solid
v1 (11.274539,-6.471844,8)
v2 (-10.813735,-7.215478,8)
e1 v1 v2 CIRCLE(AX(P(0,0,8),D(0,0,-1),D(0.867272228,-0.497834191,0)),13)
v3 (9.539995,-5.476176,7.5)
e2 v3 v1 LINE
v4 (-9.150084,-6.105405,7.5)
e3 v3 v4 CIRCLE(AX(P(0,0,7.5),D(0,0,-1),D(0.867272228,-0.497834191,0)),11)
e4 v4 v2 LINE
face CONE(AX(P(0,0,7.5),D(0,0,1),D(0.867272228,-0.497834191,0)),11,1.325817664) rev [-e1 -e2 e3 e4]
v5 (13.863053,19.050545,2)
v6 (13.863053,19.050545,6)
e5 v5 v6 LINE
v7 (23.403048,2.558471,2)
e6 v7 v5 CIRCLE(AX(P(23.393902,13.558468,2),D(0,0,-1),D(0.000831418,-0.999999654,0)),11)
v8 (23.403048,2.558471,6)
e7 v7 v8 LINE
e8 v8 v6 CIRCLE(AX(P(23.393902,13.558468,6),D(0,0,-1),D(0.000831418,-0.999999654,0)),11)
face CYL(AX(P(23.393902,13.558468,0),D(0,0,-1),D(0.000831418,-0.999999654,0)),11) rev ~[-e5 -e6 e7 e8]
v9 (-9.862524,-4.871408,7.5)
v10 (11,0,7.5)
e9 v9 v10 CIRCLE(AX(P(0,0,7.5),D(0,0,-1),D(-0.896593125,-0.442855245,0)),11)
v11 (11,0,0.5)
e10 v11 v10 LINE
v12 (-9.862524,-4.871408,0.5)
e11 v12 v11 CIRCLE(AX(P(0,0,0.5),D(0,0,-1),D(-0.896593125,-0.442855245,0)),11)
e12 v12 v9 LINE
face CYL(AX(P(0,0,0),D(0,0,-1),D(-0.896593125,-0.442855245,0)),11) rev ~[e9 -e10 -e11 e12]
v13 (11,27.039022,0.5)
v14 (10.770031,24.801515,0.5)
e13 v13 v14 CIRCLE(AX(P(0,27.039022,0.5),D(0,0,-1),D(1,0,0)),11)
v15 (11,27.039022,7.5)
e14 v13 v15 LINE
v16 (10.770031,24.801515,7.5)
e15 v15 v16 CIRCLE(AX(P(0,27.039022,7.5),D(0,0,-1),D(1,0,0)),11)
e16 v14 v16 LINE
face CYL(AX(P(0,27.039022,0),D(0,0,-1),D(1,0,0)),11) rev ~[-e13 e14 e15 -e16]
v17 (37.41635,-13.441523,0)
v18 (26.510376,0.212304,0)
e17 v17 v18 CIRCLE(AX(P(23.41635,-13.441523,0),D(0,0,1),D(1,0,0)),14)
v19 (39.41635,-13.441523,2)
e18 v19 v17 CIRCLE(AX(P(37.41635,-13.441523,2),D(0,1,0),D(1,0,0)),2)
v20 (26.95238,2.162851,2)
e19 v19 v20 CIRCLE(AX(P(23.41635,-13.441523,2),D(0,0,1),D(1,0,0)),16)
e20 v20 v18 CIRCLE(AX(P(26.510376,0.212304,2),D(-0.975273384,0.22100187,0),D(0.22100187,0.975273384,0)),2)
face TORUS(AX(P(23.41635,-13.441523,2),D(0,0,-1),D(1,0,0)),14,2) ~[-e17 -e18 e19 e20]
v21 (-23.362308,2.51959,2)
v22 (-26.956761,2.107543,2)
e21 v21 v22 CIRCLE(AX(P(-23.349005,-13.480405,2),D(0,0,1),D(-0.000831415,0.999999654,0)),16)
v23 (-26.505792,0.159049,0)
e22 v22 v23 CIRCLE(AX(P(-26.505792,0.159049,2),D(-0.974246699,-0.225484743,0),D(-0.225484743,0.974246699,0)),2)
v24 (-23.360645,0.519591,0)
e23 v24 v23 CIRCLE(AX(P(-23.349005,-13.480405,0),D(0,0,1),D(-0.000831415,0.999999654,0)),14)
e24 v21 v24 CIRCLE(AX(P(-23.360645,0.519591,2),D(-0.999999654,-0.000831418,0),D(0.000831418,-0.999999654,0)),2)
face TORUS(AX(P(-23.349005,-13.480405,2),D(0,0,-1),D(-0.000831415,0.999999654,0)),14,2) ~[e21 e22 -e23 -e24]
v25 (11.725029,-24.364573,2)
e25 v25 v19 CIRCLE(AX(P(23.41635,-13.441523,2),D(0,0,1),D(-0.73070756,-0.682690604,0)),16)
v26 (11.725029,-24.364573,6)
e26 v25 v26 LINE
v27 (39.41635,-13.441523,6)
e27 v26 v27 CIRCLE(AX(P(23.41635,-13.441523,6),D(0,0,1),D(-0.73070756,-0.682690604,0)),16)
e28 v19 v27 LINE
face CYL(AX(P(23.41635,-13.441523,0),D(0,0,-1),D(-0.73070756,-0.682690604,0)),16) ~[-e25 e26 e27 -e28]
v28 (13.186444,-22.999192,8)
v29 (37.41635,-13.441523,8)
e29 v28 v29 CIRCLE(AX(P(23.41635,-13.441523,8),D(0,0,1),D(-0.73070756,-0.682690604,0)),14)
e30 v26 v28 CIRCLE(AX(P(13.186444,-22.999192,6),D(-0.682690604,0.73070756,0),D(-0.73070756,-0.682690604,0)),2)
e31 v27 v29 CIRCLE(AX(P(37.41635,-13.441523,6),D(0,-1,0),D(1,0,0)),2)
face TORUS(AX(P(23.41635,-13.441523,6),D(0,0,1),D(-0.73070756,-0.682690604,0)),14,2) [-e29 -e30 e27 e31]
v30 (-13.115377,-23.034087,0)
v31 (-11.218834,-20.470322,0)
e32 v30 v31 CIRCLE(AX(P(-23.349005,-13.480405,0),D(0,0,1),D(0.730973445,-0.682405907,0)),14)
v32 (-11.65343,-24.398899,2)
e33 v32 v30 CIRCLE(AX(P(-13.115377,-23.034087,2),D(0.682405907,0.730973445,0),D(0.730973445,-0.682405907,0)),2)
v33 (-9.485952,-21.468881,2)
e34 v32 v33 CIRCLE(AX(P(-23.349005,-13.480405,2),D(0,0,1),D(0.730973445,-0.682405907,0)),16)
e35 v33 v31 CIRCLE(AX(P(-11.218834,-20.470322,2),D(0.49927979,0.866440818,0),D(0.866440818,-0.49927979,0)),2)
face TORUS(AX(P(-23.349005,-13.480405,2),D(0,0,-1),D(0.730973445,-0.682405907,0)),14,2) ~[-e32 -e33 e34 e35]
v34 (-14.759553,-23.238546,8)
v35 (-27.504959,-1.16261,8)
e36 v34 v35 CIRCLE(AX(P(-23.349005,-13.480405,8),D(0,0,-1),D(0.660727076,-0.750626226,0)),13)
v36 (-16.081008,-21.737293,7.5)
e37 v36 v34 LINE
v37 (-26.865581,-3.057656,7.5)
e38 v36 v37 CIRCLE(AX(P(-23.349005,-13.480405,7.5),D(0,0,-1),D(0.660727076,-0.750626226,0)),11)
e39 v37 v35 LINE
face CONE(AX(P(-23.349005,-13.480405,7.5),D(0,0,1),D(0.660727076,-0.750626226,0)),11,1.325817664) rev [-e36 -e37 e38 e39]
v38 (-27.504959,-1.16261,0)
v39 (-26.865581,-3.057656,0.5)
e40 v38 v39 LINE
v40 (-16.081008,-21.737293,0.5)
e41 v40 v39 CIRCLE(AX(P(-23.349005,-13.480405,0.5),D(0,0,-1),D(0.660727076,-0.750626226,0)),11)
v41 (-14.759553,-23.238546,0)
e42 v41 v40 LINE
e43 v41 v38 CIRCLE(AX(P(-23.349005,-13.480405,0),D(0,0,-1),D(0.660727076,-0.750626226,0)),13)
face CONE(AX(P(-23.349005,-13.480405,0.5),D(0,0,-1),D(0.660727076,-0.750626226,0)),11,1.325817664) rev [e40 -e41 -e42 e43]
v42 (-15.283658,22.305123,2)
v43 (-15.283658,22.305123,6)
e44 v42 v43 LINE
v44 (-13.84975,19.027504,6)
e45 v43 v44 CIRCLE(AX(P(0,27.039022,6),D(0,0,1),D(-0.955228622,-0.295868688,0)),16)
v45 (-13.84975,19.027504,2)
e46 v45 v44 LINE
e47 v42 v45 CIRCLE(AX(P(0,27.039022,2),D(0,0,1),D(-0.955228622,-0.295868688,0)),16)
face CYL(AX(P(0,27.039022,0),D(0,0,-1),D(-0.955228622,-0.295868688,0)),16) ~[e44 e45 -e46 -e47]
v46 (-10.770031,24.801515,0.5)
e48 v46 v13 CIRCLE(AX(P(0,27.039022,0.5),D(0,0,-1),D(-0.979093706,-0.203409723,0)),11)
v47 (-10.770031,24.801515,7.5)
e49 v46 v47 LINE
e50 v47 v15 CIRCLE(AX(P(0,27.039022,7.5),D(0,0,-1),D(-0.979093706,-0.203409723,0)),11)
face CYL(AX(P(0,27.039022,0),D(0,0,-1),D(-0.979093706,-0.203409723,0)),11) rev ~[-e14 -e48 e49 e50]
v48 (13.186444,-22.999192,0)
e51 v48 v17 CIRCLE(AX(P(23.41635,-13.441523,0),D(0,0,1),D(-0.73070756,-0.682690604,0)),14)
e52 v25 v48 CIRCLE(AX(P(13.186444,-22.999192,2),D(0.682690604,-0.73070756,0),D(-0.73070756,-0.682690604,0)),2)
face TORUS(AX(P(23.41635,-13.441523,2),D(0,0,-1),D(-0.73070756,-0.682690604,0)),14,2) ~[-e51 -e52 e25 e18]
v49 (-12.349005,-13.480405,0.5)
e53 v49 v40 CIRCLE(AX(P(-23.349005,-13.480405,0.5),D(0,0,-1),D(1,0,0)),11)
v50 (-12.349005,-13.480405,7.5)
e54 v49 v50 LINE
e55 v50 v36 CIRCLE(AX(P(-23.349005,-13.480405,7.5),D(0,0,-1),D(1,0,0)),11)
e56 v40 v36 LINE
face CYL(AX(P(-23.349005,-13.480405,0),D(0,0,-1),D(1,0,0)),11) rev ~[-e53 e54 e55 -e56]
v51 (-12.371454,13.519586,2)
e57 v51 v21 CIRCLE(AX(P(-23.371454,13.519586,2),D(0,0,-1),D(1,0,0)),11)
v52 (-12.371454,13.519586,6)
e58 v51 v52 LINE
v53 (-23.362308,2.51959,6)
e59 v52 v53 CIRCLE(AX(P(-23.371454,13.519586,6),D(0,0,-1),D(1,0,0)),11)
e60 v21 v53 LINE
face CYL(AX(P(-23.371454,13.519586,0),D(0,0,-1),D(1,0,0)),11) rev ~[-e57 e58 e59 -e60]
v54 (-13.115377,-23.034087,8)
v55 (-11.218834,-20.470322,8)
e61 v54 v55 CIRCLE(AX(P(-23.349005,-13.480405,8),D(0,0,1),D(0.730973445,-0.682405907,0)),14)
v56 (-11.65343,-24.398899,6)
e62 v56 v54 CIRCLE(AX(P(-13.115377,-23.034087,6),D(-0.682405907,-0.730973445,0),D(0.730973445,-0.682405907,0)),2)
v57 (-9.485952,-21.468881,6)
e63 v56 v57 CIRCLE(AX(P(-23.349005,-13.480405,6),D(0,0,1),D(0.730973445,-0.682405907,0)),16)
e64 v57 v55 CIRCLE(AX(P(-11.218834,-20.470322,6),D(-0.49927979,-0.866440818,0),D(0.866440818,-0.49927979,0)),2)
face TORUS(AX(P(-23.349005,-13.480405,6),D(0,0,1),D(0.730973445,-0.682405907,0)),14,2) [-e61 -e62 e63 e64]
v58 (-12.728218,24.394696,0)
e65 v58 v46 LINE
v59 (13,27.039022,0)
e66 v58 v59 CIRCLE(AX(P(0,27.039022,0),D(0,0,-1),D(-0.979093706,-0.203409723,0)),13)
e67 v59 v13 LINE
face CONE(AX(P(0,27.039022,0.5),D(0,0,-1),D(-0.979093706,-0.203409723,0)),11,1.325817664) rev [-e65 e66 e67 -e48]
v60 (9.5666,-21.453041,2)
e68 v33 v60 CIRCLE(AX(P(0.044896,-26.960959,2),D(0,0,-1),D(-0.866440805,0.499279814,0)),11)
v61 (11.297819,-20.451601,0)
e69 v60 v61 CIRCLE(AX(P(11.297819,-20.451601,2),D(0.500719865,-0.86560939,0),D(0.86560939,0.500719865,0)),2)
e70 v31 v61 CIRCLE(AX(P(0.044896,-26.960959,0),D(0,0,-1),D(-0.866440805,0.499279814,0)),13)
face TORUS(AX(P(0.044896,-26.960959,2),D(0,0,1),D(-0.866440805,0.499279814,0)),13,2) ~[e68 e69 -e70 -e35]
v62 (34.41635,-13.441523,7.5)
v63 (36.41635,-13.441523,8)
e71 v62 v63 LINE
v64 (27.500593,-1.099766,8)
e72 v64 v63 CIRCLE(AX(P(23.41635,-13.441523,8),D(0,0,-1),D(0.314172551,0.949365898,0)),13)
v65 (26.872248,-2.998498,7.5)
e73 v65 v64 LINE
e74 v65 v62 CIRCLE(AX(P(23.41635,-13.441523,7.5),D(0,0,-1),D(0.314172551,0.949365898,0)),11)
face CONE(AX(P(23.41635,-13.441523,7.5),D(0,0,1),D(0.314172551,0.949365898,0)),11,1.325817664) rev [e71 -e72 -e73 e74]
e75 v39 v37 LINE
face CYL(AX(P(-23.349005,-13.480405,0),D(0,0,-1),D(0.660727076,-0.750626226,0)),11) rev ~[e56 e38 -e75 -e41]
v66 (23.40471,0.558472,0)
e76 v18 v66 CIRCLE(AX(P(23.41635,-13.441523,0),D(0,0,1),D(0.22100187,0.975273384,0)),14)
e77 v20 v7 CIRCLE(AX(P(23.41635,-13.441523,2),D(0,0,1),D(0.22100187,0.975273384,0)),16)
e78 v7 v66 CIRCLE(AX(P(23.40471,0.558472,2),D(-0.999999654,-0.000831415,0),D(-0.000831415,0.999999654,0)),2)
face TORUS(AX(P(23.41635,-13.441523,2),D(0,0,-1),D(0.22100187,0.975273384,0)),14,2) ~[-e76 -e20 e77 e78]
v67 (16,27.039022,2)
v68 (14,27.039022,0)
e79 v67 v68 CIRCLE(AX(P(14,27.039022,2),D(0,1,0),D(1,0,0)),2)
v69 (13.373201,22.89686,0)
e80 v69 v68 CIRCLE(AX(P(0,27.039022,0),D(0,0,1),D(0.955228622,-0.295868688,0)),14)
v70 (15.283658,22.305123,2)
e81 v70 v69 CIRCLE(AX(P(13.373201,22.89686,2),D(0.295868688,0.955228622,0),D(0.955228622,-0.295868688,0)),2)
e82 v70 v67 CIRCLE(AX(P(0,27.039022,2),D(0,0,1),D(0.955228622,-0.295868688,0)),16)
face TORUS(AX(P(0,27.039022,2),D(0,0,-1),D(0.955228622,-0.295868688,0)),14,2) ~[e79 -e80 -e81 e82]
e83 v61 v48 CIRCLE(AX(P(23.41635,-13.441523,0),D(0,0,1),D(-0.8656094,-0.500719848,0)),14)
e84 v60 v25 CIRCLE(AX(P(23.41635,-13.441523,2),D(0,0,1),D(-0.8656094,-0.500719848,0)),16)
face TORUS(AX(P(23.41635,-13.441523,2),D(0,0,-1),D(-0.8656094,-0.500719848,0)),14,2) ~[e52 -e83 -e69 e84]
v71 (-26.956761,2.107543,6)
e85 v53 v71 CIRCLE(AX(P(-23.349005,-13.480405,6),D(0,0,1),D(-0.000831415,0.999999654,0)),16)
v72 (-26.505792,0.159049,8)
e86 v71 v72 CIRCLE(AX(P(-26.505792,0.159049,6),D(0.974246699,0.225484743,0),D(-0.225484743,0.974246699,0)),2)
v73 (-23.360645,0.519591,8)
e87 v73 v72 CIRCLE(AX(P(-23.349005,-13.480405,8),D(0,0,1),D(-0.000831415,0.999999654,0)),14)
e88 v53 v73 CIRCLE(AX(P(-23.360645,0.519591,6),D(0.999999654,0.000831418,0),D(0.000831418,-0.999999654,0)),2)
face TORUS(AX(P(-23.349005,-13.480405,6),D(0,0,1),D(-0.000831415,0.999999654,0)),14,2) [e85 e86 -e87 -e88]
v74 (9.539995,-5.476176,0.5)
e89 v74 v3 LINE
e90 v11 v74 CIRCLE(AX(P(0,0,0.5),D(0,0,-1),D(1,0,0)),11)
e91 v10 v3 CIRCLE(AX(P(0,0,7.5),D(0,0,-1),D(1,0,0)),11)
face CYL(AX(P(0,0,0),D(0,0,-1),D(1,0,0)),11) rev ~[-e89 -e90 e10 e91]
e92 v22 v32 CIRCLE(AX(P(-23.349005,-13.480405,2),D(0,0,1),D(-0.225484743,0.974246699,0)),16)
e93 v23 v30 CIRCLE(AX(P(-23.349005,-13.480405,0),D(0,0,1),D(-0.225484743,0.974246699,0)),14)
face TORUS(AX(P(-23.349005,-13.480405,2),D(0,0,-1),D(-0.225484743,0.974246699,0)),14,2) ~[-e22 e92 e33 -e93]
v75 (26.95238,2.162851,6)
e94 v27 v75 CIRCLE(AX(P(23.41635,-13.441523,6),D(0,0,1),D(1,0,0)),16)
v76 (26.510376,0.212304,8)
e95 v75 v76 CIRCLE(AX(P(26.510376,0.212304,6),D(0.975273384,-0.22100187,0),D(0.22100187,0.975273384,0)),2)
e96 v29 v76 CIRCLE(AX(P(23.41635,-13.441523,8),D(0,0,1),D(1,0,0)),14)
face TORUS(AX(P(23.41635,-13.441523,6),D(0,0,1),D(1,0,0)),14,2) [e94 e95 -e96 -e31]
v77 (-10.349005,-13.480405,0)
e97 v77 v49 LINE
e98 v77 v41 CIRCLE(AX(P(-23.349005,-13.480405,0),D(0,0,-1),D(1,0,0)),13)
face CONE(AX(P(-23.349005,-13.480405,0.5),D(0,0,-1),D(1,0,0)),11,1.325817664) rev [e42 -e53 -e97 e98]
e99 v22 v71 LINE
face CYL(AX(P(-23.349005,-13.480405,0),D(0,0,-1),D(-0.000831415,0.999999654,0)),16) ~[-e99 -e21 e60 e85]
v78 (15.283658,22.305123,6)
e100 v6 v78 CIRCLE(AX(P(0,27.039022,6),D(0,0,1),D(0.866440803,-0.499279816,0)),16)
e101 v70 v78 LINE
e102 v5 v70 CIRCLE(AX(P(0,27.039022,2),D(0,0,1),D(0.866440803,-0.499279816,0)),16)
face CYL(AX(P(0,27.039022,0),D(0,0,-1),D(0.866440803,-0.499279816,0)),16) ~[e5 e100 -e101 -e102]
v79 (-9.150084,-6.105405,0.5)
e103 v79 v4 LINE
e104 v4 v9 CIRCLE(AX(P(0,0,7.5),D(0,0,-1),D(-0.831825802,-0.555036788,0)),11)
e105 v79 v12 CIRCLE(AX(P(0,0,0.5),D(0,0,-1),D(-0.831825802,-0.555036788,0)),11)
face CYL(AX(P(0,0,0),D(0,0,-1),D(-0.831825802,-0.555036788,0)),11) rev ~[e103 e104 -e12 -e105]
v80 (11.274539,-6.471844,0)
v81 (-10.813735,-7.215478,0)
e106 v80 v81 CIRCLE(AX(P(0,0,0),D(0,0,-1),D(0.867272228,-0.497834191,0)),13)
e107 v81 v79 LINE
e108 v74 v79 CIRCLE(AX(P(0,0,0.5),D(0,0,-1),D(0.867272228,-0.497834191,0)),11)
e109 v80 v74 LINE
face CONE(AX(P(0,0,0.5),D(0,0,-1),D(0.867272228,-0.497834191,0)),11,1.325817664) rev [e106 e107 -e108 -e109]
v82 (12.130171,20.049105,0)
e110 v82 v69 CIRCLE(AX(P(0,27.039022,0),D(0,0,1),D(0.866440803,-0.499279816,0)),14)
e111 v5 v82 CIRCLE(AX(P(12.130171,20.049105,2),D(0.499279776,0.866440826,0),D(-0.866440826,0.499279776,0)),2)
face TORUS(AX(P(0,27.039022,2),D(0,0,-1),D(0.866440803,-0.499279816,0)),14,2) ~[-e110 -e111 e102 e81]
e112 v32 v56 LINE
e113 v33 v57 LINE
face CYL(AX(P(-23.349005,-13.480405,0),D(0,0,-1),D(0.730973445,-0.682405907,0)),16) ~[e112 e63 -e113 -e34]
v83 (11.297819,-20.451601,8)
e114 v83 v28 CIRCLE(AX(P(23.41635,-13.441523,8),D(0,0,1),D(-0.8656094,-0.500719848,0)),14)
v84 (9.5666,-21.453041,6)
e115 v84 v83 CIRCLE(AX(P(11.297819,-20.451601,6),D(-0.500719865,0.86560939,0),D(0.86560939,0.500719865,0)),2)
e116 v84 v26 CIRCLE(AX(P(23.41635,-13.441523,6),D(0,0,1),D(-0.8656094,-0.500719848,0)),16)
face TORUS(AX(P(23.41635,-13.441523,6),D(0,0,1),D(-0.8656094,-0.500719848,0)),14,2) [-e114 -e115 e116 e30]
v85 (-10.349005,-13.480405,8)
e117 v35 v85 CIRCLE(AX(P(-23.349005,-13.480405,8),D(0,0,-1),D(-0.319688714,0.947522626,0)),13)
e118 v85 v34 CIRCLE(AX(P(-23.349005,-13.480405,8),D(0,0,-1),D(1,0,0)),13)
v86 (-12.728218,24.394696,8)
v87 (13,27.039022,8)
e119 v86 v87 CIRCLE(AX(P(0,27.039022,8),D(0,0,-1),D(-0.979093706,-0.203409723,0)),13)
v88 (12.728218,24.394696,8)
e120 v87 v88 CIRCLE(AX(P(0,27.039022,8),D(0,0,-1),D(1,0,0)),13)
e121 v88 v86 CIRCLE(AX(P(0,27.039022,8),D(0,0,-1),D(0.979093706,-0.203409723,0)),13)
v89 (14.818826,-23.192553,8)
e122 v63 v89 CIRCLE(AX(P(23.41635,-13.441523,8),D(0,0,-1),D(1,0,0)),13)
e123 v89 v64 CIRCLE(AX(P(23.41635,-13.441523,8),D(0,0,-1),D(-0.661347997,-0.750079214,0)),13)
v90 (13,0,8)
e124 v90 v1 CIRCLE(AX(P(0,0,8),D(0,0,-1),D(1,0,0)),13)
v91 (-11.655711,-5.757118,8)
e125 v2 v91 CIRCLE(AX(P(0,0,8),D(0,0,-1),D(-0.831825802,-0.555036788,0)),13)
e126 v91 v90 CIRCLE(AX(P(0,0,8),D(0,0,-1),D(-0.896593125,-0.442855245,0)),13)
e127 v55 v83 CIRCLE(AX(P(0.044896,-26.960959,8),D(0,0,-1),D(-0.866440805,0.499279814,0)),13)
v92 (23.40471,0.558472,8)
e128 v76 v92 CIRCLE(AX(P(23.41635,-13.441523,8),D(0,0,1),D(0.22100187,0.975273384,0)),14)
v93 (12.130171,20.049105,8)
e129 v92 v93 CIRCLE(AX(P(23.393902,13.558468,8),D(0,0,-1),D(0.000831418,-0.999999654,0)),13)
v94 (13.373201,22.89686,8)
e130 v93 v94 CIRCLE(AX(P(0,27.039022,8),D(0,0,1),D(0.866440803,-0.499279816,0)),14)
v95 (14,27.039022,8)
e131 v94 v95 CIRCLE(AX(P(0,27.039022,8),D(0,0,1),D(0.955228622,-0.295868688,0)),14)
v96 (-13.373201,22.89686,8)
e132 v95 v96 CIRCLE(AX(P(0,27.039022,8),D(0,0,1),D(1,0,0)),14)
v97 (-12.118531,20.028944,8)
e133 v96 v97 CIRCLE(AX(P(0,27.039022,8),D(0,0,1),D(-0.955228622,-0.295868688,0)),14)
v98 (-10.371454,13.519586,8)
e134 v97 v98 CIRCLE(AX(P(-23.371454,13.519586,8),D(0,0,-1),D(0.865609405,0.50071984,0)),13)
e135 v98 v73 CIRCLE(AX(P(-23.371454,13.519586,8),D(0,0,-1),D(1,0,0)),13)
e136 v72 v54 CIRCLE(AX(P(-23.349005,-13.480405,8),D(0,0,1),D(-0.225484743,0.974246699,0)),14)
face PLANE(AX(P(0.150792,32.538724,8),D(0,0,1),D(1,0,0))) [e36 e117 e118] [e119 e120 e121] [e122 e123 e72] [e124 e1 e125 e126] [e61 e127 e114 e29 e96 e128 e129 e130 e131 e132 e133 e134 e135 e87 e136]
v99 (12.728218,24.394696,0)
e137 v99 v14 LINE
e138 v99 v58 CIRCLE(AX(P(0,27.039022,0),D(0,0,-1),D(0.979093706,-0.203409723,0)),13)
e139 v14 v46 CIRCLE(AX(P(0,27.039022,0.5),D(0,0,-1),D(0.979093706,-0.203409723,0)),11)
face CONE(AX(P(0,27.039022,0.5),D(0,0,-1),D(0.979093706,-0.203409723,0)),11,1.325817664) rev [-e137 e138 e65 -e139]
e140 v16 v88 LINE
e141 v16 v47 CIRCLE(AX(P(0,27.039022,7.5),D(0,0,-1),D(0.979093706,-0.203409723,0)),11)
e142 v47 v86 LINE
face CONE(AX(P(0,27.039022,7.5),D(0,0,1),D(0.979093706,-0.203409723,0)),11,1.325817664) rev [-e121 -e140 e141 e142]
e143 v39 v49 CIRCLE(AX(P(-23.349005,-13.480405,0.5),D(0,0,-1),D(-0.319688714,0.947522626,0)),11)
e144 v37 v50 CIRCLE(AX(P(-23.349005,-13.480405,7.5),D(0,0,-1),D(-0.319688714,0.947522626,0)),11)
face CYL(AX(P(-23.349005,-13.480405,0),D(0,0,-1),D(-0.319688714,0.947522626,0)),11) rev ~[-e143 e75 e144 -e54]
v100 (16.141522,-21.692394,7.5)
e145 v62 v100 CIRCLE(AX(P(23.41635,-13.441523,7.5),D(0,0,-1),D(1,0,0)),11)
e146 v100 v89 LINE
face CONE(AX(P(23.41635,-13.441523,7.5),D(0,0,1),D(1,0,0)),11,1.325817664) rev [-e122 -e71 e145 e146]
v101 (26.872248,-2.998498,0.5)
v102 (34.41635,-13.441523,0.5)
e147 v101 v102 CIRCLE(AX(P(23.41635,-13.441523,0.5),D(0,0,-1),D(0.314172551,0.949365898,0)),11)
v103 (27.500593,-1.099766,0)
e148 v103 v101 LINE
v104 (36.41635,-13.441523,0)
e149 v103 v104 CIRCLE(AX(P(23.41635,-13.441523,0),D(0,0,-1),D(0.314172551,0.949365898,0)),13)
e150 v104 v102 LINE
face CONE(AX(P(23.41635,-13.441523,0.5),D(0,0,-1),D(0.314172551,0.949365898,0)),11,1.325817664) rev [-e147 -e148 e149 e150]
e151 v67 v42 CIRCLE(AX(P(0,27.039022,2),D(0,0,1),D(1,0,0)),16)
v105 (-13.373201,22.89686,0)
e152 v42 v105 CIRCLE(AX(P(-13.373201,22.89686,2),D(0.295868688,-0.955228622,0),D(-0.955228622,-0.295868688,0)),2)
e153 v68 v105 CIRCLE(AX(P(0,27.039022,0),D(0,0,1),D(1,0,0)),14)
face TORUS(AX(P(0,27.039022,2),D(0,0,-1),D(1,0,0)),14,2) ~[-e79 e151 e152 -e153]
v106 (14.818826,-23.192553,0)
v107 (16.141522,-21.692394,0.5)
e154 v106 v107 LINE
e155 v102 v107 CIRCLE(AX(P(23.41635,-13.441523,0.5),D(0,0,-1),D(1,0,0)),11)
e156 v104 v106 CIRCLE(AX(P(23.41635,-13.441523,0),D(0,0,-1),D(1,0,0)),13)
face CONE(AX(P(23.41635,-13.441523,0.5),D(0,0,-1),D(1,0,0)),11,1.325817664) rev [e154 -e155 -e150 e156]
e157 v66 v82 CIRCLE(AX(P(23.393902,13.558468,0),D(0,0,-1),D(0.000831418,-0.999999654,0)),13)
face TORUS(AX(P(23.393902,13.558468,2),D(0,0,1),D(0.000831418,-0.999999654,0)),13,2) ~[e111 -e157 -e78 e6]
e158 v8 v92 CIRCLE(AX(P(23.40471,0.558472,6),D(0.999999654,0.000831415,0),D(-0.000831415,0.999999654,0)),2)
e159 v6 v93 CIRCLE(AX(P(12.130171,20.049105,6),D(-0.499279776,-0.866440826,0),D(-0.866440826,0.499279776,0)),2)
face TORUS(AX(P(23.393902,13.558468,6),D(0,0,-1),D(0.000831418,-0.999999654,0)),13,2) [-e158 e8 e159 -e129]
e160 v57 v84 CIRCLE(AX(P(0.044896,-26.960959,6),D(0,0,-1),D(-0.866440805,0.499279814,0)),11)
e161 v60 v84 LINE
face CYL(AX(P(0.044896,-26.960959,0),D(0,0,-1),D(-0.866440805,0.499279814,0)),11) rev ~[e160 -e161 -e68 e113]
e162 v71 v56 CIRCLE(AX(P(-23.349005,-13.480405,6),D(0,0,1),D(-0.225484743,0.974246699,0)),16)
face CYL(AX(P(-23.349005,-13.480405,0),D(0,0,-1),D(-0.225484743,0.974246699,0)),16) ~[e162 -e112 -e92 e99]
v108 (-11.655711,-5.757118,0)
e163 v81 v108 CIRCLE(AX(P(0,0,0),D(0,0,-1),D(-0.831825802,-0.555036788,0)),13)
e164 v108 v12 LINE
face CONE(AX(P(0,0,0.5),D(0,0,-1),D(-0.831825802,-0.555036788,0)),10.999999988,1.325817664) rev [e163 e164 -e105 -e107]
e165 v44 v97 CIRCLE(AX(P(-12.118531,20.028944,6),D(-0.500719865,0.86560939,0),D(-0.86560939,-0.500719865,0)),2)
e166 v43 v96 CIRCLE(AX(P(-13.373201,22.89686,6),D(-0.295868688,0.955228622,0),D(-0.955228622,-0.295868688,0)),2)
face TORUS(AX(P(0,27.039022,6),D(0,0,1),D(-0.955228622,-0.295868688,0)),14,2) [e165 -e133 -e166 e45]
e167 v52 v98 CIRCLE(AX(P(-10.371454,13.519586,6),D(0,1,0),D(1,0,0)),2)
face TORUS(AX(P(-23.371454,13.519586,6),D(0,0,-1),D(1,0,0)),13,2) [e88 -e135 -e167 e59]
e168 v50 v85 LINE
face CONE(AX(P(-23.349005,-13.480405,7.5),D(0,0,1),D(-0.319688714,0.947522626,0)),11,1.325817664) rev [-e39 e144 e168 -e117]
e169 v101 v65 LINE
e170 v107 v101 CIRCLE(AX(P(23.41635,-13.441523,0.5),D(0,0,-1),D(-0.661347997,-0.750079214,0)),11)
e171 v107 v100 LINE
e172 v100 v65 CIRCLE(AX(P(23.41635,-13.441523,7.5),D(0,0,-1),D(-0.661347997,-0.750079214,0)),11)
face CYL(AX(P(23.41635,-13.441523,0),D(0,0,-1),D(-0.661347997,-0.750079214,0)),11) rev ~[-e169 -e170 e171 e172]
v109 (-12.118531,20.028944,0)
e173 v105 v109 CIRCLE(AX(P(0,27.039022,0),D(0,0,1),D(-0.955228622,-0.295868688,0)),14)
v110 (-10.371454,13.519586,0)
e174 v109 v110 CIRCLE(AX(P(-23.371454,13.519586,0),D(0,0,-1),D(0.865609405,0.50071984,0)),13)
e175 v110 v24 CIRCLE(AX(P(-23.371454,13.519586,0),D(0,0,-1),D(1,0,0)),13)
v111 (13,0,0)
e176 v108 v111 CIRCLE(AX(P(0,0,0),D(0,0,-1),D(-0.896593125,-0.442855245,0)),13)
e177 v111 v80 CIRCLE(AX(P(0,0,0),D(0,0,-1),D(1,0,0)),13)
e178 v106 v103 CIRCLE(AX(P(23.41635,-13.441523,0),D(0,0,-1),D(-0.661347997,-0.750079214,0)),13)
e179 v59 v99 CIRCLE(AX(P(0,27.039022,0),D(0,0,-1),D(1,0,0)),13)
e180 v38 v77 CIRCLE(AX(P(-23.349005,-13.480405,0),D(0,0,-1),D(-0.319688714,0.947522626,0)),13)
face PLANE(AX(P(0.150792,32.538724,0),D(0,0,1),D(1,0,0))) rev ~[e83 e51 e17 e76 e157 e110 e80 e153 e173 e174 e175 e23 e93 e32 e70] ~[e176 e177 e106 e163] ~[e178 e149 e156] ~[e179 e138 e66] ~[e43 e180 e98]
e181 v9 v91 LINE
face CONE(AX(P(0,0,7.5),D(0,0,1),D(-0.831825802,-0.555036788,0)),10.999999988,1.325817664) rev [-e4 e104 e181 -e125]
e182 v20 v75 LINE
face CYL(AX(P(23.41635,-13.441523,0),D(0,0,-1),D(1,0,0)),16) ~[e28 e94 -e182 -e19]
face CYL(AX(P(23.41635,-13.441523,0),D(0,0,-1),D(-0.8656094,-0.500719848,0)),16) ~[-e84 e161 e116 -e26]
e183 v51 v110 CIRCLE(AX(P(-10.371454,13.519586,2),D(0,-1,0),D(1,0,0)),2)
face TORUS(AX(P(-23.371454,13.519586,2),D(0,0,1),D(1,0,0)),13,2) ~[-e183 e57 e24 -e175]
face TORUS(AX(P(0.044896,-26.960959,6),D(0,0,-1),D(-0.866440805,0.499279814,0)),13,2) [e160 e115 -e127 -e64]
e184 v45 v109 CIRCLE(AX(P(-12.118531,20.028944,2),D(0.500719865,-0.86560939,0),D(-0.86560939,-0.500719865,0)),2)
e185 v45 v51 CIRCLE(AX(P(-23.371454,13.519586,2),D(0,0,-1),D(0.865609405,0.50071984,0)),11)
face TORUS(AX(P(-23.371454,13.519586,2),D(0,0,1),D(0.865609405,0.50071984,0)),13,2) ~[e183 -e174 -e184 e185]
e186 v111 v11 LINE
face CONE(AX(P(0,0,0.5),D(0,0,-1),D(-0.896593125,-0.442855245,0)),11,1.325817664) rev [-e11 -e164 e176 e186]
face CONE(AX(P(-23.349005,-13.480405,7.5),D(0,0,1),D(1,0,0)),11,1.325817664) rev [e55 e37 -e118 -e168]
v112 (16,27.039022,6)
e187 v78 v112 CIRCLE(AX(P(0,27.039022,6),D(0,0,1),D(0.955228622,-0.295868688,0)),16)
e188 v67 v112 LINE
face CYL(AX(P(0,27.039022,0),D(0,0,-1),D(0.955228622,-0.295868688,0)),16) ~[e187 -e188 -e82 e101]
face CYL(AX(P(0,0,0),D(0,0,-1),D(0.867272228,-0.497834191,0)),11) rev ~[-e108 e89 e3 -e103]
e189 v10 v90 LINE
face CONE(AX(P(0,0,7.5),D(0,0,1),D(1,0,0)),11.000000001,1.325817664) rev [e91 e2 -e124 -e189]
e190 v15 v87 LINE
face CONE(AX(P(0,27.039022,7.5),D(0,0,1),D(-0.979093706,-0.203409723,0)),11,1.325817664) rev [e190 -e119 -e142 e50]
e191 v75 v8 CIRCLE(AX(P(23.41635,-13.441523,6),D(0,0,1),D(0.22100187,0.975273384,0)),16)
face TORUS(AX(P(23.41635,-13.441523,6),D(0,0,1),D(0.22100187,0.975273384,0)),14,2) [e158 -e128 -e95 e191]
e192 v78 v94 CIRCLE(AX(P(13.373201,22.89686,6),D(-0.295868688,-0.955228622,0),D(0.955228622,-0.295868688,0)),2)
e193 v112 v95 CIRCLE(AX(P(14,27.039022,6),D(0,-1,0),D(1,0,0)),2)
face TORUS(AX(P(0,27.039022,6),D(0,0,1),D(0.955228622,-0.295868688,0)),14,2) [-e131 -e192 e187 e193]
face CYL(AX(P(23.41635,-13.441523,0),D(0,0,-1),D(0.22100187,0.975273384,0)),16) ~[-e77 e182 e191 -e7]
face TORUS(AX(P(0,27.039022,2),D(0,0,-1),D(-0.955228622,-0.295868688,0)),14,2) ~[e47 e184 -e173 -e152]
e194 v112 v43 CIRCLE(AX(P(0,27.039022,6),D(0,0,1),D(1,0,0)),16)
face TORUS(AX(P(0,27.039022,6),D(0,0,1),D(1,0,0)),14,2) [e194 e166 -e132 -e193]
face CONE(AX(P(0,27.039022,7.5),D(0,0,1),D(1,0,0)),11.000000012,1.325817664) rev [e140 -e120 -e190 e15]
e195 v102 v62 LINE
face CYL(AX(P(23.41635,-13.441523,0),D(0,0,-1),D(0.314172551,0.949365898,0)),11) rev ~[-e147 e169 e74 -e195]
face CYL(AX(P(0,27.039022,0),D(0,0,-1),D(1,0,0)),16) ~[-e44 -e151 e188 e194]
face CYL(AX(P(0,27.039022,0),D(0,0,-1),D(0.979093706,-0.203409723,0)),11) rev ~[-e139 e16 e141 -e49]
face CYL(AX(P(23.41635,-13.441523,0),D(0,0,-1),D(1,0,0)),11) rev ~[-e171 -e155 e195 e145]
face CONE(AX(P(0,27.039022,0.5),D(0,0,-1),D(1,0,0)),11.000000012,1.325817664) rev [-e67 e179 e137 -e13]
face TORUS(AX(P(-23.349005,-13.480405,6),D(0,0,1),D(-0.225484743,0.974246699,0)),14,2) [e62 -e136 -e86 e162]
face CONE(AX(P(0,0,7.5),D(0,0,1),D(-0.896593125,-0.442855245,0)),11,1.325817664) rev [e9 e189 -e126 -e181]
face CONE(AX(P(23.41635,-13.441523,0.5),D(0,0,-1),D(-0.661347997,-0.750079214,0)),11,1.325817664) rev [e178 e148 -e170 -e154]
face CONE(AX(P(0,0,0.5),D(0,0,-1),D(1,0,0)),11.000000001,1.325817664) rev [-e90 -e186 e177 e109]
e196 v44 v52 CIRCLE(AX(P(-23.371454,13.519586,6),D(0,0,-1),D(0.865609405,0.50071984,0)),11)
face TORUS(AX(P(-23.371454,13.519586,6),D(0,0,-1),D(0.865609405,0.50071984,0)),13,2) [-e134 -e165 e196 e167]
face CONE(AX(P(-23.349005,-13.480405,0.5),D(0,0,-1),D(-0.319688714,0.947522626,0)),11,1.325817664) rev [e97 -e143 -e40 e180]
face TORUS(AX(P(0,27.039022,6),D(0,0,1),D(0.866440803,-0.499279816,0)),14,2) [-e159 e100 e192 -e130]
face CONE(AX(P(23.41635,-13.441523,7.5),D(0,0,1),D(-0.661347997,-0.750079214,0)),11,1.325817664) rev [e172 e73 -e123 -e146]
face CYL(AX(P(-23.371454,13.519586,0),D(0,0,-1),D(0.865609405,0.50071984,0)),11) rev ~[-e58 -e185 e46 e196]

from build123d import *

# Parameters (mm, degrees)
F1_DEPTH   = 8
F2_R       = 2
F3_SIZE2   = 0.5
F3_SIZE    = 2
F4_SIZE2   = 2
F4_SIZE    = 0.5
F4_2_SIZE2 = 2
F4_2_SIZE  = 0.5
F4_3_SIZE2 = 2
F4_3_SIZE  = 0.5
F4_4_SIZE2 = 2
F4_4_SIZE  = 0.5


with BuildPart() as f1:
    # F0 (on Top) → F1 (new body)
    with BuildSketch(Plane.XY):
        with BuildLine():
            ThreePointArc((10.7700307631, 24.8015151753), (13.0865070646, 23.6611929217), (15.2836579454, 22.3051231209))
            ThreePointArc((15.2836579454, 22.3051231209), (15.8199008708, 24.6451264666), (16, 27.0390221279))
            ThreePointArc((16, 27.0390221279), (-2.3938956612, 42.8589229987), (-15.2836579454, 22.3051231209))
            ThreePointArc((-15.2836579454, 22.3051231209), (-13.0865070646, 23.6611929217), (-10.7700307631, 24.8015151753))
            ThreePointArc((-10.7700307631, 24.8015151753), (-1.1246469682, 37.9813787843), (11, 27.0390221279))
            ThreePointArc((11, 27.0390221279), (10.9423566564, 25.9143751596), (10.7700307631, 24.8015151753))
        make_face()
        with BuildLine():
            ThreePointArc((-13.8497502447, 19.0275042841), (0.013302609, 11.0390276578), (13.863052854, 19.0505450786))
            ThreePointArc((13.863052854, 19.0505450786), (14.6639270717, 20.6383000721), (15.2836579454, 22.3051231209))
            ThreePointArc((15.2836579454, 22.3051231209), (13.0865070646, 23.6611929217), (10.7700307631, 24.8015151753))
            ThreePointArc((10.7700307631, 24.8015151753), (0, 16.0390221279), (-10.7700307631, 24.8015151753))
            ThreePointArc((-10.7700307631, 24.8015151753), (-13.0865070646, 23.6611929217), (-15.2836579454, 22.3051231209))
            ThreePointArc((-15.2836579454, 22.3051231209), (-14.6586003596, 20.6261105038), (-13.8497502447, 19.0275042841))
        make_face()
        with BuildLine():
            ThreePointArc((26.9523801007, 2.1628510208), (27.0173529382, 1.0822928646), (27.0390221279, 0))
            ThreePointArc((27.0390221279, 0), (26.9972964631, -1.5015662873), (26.8722482479, -2.9984982464))
            ThreePointArc((26.8722482479, -2.9984982464), (32.3330446048, -7.0000511908), (34.4163501875, -13.4415231241))
            ThreePointArc((34.4163501875, -13.4415231241), (27.9427666707, -23.4670681876), (16.1415222201, -21.6923944747))
            ThreePointArc((16.1415222201, -21.6923944747), (13.9971892376, -23.1341179014), (11.7250292215, -24.364572793))
            ThreePointArc((11.7250292215, -24.364572793), (29.2874175753, -28.3254260977), (39.4163501875, -13.4415231241))
            ThreePointArc((39.4163501875, -13.4415231241), (35.9178796662, -3.4559454896), (26.9523801007, 2.1628510208))
        make_face()
        with BuildLine():
            ThreePointArc((26.8722482479, -2.9984982464), (26.9972964631, -1.5015662873), (27.0390221279, 0))
            ThreePointArc((27.0390221279, 0), (27.0173529382, 1.0822928646), (26.9523801007, 2.1628510208))
            ThreePointArc((26.9523801007, 2.1628510208), (25.1887865656, 2.4600009942), (23.4030475438, 2.5584713459))
            ThreePointArc((23.4030475438, 2.5584713459), (15.3932870587, 0.4015422168), (9.5399945116, -5.4761761037))
            ThreePointArc((9.5399945116, -5.4761761037), (7.4163723716, -13.4681668853), (9.5665997838, -21.4530406929))
            ThreePointArc((9.5665997838, -21.4530406929), (10.5631079323, -22.9701202679), (11.7250292215, -24.364572793))
            ThreePointArc((11.7250292215, -24.364572793), (13.9971892376, -23.1341179014), (16.1415222201, -21.6923944747))
            ThreePointArc((16.1415222201, -21.6923944747), (13.8763556667, -7.9653470365), (26.8722482479, -2.9984982464))
        make_face()
        with BuildLine():
            ThreePointArc((-7.3490054535, -13.4804046244), (-7.8057955833, -9.6845349044), (-9.1500838199, -6.1054046622))
            ThreePointArc((-9.1500838199, -6.1054046622), (-9.5263059345, -5.4999541128), (-9.8625243784, -4.8714076903))
            ThreePointArc((-9.8625243784, -4.8714076903), (-15.6653640378, 0.5538981582), (-23.3623080972, 2.5195898456))
            ThreePointArc((-23.3623080972, 2.5195898456), (-25.1712189323, 2.4154922687), (-26.9567613408, 2.1075425611))
            ThreePointArc((-26.9567613408, 2.1075425611), (-27.0348101605, -0.4772391579), (-26.8655813076, -3.0576557422))
            ThreePointArc((-26.8655813076, -3.0576557422), (-16.9334904467, -4.5450161495), (-12.3490054535, -13.4804046244))
            ThreePointArc((-12.3490054535, -13.4804046244), (-13.325334065, -18.0109688161), (-16.0810076162, -21.7372931084))
            ThreePointArc((-16.0810076162, -21.7372931084), (-13.9309295699, -23.1740785998), (-11.6534303278, -24.3988991396))
            ThreePointArc((-11.6534303278, -24.3988991396), (-10.485991798, -22.9958068597), (-9.4859523605, -21.4688812589))
            ThreePointArc((-9.4859523605, -21.4688812589), (-7.8924720535, -17.6150842076), (-7.3490054535, -13.4804046244))
        make_face()
        with BuildLine():
            ThreePointArc((-26.9567613408, 2.1075425611), (-37.2054504491, -21.4803378794), (-11.6534303278, -24.3988991396))
            ThreePointArc((-11.6534303278, -24.3988991396), (-13.9309295699, -23.1740785998), (-16.0810076162, -21.7372931084))
            ThreePointArc((-16.0810076162, -21.7372931084), (-32.875311388, -18.9803587372), (-26.8655813076, -3.0576557422))
            ThreePointArc((-26.8655813076, -3.0576557422), (-27.0348101605, -0.4772391579), (-26.9567613408, 2.1075425611))
        make_face()
        with BuildLine():
            ThreePointArc((9.5665997838, -21.4530406929), (7.4163723716, -13.4681668853), (9.5399945116, -5.4761761037))
            ThreePointArc((9.5399945116, -5.4761761037), (0.370121239, -10.9937714306), (-9.1500838199, -6.1054046622))
            ThreePointArc((-9.1500838199, -6.1054046622), (-7.8057955833, -9.6845349044), (-7.3490054535, -13.4804046244))
            ThreePointArc((-7.3490054535, -13.4804046244), (-7.8924720535, -17.6150842076), (-9.4859523605, -21.4688812589))
            ThreePointArc((-9.4859523605, -21.4688812589), (0.0357509342, -15.9609630102), (9.5665997838, -21.4530406929))
        make_face()
        with BuildLine():
            ThreePointArc((9.5399945116, -5.4761761037), (15.3932870587, 0.4015422168), (23.4030475438, 2.5584713459))
            ThreePointArc((23.4030475438, 2.5584713459), (13.8721986641, 8.0505490014), (13.863052854, 19.0505450786))
            ThreePointArc((13.863052854, 19.0505450786), (0.013302609, 11.0390276578), (-13.8497502447, 19.0275042841))
            ThreePointArc((-13.8497502447, 19.0275042841), (-12.7474540279, 16.3710121791), (-12.3714536982, 13.5195860437))
            ThreePointArc((-12.3714536982, 13.5195860437), (-15.5900463187, 5.7446455812), (-23.3623080972, 2.5195898456))
            ThreePointArc((-23.3623080972, 2.5195898456), (-15.6653640378, 0.5538981582), (-9.8625243784, -4.8714076903))
            ThreePointArc((-9.8625243784, -4.8714076903), (-2.5012228846, 10.7118571724), (11, 0))
            ThreePointArc((11, 0), (10.6287332177, -2.8337307893), (9.5399945116, -5.4761761037))
        make_face()
    extrude(amount=F1_DEPTH)

    # F2
    f2_edges = [f1.edges().sort_by_distance(p)[0] for p in [
        (-13.840605, 8.027508, 0),
        (-37.198756, -21.491922, 8),
    ]]
    fillet(f2_edges, radius=F2_R)

    # F3
    f3_edges = [f1.edges().sort_by_distance(p)[0] for p in [
        (-9.539995, 5.476176, 0),
        (30.691178, -5.190652, 0),
        (-30.617003, -5.223516, 0),
        (-11, 27.039022, 0),
    ]]
    f3_side = f1.faces().sort_by_distance((-11.229032, 6.52261, 0))[0]
    chamfer(f3_edges, length=F3_SIZE, length2=F3_SIZE2, reference=f3_side)

    # F4
    f4_edges = [f1.edges().sort_by_distance(p)[0] for p in [
        (-11, 27.039022, 8),
    ]]
    f4_side = f1.faces().sort_by_distance((-11, 27.039022, 4.25))[0]
    chamfer(f4_edges, length=F4_SIZE, length2=F4_SIZE2, reference=f4_side)

    # F4#2
    f4_2_edges = [f1.edges().sort_by_distance(p)[0] for p in [
        (-9.539995, 5.476176, 8),
    ]]
    f4_2_side = f1.faces().sort_by_distance((-9.539995, 5.476176, 4.25))[0]
    chamfer(f4_2_edges, length=F4_2_SIZE, length2=F4_2_SIZE2, reference=f4_2_side)

    # F4#3
    f4_3_edges = [f1.edges().sort_by_distance(p)[0] for p in [
        (-30.617003, -5.223516, 8),
    ]]
    f4_3_side = f1.faces().sort_by_distance((-30.617003, -5.223516, 4.25))[0]
    chamfer(f4_3_edges, length=F4_3_SIZE, length2=F4_3_SIZE2, reference=f4_3_side)

    # F4#4
    f4_4_edges = [f1.edges().sort_by_distance(p)[0] for p in [
        (30.691178, -5.190652, 8),
    ]]
    f4_4_side = f1.faces().sort_by_distance((30.691178, -5.190652, 4.25))[0]
    chamfer(f4_4_edges, length=F4_4_SIZE, length2=F4_4_SIZE2, reference=f4_4_side)


solid = f1.part
